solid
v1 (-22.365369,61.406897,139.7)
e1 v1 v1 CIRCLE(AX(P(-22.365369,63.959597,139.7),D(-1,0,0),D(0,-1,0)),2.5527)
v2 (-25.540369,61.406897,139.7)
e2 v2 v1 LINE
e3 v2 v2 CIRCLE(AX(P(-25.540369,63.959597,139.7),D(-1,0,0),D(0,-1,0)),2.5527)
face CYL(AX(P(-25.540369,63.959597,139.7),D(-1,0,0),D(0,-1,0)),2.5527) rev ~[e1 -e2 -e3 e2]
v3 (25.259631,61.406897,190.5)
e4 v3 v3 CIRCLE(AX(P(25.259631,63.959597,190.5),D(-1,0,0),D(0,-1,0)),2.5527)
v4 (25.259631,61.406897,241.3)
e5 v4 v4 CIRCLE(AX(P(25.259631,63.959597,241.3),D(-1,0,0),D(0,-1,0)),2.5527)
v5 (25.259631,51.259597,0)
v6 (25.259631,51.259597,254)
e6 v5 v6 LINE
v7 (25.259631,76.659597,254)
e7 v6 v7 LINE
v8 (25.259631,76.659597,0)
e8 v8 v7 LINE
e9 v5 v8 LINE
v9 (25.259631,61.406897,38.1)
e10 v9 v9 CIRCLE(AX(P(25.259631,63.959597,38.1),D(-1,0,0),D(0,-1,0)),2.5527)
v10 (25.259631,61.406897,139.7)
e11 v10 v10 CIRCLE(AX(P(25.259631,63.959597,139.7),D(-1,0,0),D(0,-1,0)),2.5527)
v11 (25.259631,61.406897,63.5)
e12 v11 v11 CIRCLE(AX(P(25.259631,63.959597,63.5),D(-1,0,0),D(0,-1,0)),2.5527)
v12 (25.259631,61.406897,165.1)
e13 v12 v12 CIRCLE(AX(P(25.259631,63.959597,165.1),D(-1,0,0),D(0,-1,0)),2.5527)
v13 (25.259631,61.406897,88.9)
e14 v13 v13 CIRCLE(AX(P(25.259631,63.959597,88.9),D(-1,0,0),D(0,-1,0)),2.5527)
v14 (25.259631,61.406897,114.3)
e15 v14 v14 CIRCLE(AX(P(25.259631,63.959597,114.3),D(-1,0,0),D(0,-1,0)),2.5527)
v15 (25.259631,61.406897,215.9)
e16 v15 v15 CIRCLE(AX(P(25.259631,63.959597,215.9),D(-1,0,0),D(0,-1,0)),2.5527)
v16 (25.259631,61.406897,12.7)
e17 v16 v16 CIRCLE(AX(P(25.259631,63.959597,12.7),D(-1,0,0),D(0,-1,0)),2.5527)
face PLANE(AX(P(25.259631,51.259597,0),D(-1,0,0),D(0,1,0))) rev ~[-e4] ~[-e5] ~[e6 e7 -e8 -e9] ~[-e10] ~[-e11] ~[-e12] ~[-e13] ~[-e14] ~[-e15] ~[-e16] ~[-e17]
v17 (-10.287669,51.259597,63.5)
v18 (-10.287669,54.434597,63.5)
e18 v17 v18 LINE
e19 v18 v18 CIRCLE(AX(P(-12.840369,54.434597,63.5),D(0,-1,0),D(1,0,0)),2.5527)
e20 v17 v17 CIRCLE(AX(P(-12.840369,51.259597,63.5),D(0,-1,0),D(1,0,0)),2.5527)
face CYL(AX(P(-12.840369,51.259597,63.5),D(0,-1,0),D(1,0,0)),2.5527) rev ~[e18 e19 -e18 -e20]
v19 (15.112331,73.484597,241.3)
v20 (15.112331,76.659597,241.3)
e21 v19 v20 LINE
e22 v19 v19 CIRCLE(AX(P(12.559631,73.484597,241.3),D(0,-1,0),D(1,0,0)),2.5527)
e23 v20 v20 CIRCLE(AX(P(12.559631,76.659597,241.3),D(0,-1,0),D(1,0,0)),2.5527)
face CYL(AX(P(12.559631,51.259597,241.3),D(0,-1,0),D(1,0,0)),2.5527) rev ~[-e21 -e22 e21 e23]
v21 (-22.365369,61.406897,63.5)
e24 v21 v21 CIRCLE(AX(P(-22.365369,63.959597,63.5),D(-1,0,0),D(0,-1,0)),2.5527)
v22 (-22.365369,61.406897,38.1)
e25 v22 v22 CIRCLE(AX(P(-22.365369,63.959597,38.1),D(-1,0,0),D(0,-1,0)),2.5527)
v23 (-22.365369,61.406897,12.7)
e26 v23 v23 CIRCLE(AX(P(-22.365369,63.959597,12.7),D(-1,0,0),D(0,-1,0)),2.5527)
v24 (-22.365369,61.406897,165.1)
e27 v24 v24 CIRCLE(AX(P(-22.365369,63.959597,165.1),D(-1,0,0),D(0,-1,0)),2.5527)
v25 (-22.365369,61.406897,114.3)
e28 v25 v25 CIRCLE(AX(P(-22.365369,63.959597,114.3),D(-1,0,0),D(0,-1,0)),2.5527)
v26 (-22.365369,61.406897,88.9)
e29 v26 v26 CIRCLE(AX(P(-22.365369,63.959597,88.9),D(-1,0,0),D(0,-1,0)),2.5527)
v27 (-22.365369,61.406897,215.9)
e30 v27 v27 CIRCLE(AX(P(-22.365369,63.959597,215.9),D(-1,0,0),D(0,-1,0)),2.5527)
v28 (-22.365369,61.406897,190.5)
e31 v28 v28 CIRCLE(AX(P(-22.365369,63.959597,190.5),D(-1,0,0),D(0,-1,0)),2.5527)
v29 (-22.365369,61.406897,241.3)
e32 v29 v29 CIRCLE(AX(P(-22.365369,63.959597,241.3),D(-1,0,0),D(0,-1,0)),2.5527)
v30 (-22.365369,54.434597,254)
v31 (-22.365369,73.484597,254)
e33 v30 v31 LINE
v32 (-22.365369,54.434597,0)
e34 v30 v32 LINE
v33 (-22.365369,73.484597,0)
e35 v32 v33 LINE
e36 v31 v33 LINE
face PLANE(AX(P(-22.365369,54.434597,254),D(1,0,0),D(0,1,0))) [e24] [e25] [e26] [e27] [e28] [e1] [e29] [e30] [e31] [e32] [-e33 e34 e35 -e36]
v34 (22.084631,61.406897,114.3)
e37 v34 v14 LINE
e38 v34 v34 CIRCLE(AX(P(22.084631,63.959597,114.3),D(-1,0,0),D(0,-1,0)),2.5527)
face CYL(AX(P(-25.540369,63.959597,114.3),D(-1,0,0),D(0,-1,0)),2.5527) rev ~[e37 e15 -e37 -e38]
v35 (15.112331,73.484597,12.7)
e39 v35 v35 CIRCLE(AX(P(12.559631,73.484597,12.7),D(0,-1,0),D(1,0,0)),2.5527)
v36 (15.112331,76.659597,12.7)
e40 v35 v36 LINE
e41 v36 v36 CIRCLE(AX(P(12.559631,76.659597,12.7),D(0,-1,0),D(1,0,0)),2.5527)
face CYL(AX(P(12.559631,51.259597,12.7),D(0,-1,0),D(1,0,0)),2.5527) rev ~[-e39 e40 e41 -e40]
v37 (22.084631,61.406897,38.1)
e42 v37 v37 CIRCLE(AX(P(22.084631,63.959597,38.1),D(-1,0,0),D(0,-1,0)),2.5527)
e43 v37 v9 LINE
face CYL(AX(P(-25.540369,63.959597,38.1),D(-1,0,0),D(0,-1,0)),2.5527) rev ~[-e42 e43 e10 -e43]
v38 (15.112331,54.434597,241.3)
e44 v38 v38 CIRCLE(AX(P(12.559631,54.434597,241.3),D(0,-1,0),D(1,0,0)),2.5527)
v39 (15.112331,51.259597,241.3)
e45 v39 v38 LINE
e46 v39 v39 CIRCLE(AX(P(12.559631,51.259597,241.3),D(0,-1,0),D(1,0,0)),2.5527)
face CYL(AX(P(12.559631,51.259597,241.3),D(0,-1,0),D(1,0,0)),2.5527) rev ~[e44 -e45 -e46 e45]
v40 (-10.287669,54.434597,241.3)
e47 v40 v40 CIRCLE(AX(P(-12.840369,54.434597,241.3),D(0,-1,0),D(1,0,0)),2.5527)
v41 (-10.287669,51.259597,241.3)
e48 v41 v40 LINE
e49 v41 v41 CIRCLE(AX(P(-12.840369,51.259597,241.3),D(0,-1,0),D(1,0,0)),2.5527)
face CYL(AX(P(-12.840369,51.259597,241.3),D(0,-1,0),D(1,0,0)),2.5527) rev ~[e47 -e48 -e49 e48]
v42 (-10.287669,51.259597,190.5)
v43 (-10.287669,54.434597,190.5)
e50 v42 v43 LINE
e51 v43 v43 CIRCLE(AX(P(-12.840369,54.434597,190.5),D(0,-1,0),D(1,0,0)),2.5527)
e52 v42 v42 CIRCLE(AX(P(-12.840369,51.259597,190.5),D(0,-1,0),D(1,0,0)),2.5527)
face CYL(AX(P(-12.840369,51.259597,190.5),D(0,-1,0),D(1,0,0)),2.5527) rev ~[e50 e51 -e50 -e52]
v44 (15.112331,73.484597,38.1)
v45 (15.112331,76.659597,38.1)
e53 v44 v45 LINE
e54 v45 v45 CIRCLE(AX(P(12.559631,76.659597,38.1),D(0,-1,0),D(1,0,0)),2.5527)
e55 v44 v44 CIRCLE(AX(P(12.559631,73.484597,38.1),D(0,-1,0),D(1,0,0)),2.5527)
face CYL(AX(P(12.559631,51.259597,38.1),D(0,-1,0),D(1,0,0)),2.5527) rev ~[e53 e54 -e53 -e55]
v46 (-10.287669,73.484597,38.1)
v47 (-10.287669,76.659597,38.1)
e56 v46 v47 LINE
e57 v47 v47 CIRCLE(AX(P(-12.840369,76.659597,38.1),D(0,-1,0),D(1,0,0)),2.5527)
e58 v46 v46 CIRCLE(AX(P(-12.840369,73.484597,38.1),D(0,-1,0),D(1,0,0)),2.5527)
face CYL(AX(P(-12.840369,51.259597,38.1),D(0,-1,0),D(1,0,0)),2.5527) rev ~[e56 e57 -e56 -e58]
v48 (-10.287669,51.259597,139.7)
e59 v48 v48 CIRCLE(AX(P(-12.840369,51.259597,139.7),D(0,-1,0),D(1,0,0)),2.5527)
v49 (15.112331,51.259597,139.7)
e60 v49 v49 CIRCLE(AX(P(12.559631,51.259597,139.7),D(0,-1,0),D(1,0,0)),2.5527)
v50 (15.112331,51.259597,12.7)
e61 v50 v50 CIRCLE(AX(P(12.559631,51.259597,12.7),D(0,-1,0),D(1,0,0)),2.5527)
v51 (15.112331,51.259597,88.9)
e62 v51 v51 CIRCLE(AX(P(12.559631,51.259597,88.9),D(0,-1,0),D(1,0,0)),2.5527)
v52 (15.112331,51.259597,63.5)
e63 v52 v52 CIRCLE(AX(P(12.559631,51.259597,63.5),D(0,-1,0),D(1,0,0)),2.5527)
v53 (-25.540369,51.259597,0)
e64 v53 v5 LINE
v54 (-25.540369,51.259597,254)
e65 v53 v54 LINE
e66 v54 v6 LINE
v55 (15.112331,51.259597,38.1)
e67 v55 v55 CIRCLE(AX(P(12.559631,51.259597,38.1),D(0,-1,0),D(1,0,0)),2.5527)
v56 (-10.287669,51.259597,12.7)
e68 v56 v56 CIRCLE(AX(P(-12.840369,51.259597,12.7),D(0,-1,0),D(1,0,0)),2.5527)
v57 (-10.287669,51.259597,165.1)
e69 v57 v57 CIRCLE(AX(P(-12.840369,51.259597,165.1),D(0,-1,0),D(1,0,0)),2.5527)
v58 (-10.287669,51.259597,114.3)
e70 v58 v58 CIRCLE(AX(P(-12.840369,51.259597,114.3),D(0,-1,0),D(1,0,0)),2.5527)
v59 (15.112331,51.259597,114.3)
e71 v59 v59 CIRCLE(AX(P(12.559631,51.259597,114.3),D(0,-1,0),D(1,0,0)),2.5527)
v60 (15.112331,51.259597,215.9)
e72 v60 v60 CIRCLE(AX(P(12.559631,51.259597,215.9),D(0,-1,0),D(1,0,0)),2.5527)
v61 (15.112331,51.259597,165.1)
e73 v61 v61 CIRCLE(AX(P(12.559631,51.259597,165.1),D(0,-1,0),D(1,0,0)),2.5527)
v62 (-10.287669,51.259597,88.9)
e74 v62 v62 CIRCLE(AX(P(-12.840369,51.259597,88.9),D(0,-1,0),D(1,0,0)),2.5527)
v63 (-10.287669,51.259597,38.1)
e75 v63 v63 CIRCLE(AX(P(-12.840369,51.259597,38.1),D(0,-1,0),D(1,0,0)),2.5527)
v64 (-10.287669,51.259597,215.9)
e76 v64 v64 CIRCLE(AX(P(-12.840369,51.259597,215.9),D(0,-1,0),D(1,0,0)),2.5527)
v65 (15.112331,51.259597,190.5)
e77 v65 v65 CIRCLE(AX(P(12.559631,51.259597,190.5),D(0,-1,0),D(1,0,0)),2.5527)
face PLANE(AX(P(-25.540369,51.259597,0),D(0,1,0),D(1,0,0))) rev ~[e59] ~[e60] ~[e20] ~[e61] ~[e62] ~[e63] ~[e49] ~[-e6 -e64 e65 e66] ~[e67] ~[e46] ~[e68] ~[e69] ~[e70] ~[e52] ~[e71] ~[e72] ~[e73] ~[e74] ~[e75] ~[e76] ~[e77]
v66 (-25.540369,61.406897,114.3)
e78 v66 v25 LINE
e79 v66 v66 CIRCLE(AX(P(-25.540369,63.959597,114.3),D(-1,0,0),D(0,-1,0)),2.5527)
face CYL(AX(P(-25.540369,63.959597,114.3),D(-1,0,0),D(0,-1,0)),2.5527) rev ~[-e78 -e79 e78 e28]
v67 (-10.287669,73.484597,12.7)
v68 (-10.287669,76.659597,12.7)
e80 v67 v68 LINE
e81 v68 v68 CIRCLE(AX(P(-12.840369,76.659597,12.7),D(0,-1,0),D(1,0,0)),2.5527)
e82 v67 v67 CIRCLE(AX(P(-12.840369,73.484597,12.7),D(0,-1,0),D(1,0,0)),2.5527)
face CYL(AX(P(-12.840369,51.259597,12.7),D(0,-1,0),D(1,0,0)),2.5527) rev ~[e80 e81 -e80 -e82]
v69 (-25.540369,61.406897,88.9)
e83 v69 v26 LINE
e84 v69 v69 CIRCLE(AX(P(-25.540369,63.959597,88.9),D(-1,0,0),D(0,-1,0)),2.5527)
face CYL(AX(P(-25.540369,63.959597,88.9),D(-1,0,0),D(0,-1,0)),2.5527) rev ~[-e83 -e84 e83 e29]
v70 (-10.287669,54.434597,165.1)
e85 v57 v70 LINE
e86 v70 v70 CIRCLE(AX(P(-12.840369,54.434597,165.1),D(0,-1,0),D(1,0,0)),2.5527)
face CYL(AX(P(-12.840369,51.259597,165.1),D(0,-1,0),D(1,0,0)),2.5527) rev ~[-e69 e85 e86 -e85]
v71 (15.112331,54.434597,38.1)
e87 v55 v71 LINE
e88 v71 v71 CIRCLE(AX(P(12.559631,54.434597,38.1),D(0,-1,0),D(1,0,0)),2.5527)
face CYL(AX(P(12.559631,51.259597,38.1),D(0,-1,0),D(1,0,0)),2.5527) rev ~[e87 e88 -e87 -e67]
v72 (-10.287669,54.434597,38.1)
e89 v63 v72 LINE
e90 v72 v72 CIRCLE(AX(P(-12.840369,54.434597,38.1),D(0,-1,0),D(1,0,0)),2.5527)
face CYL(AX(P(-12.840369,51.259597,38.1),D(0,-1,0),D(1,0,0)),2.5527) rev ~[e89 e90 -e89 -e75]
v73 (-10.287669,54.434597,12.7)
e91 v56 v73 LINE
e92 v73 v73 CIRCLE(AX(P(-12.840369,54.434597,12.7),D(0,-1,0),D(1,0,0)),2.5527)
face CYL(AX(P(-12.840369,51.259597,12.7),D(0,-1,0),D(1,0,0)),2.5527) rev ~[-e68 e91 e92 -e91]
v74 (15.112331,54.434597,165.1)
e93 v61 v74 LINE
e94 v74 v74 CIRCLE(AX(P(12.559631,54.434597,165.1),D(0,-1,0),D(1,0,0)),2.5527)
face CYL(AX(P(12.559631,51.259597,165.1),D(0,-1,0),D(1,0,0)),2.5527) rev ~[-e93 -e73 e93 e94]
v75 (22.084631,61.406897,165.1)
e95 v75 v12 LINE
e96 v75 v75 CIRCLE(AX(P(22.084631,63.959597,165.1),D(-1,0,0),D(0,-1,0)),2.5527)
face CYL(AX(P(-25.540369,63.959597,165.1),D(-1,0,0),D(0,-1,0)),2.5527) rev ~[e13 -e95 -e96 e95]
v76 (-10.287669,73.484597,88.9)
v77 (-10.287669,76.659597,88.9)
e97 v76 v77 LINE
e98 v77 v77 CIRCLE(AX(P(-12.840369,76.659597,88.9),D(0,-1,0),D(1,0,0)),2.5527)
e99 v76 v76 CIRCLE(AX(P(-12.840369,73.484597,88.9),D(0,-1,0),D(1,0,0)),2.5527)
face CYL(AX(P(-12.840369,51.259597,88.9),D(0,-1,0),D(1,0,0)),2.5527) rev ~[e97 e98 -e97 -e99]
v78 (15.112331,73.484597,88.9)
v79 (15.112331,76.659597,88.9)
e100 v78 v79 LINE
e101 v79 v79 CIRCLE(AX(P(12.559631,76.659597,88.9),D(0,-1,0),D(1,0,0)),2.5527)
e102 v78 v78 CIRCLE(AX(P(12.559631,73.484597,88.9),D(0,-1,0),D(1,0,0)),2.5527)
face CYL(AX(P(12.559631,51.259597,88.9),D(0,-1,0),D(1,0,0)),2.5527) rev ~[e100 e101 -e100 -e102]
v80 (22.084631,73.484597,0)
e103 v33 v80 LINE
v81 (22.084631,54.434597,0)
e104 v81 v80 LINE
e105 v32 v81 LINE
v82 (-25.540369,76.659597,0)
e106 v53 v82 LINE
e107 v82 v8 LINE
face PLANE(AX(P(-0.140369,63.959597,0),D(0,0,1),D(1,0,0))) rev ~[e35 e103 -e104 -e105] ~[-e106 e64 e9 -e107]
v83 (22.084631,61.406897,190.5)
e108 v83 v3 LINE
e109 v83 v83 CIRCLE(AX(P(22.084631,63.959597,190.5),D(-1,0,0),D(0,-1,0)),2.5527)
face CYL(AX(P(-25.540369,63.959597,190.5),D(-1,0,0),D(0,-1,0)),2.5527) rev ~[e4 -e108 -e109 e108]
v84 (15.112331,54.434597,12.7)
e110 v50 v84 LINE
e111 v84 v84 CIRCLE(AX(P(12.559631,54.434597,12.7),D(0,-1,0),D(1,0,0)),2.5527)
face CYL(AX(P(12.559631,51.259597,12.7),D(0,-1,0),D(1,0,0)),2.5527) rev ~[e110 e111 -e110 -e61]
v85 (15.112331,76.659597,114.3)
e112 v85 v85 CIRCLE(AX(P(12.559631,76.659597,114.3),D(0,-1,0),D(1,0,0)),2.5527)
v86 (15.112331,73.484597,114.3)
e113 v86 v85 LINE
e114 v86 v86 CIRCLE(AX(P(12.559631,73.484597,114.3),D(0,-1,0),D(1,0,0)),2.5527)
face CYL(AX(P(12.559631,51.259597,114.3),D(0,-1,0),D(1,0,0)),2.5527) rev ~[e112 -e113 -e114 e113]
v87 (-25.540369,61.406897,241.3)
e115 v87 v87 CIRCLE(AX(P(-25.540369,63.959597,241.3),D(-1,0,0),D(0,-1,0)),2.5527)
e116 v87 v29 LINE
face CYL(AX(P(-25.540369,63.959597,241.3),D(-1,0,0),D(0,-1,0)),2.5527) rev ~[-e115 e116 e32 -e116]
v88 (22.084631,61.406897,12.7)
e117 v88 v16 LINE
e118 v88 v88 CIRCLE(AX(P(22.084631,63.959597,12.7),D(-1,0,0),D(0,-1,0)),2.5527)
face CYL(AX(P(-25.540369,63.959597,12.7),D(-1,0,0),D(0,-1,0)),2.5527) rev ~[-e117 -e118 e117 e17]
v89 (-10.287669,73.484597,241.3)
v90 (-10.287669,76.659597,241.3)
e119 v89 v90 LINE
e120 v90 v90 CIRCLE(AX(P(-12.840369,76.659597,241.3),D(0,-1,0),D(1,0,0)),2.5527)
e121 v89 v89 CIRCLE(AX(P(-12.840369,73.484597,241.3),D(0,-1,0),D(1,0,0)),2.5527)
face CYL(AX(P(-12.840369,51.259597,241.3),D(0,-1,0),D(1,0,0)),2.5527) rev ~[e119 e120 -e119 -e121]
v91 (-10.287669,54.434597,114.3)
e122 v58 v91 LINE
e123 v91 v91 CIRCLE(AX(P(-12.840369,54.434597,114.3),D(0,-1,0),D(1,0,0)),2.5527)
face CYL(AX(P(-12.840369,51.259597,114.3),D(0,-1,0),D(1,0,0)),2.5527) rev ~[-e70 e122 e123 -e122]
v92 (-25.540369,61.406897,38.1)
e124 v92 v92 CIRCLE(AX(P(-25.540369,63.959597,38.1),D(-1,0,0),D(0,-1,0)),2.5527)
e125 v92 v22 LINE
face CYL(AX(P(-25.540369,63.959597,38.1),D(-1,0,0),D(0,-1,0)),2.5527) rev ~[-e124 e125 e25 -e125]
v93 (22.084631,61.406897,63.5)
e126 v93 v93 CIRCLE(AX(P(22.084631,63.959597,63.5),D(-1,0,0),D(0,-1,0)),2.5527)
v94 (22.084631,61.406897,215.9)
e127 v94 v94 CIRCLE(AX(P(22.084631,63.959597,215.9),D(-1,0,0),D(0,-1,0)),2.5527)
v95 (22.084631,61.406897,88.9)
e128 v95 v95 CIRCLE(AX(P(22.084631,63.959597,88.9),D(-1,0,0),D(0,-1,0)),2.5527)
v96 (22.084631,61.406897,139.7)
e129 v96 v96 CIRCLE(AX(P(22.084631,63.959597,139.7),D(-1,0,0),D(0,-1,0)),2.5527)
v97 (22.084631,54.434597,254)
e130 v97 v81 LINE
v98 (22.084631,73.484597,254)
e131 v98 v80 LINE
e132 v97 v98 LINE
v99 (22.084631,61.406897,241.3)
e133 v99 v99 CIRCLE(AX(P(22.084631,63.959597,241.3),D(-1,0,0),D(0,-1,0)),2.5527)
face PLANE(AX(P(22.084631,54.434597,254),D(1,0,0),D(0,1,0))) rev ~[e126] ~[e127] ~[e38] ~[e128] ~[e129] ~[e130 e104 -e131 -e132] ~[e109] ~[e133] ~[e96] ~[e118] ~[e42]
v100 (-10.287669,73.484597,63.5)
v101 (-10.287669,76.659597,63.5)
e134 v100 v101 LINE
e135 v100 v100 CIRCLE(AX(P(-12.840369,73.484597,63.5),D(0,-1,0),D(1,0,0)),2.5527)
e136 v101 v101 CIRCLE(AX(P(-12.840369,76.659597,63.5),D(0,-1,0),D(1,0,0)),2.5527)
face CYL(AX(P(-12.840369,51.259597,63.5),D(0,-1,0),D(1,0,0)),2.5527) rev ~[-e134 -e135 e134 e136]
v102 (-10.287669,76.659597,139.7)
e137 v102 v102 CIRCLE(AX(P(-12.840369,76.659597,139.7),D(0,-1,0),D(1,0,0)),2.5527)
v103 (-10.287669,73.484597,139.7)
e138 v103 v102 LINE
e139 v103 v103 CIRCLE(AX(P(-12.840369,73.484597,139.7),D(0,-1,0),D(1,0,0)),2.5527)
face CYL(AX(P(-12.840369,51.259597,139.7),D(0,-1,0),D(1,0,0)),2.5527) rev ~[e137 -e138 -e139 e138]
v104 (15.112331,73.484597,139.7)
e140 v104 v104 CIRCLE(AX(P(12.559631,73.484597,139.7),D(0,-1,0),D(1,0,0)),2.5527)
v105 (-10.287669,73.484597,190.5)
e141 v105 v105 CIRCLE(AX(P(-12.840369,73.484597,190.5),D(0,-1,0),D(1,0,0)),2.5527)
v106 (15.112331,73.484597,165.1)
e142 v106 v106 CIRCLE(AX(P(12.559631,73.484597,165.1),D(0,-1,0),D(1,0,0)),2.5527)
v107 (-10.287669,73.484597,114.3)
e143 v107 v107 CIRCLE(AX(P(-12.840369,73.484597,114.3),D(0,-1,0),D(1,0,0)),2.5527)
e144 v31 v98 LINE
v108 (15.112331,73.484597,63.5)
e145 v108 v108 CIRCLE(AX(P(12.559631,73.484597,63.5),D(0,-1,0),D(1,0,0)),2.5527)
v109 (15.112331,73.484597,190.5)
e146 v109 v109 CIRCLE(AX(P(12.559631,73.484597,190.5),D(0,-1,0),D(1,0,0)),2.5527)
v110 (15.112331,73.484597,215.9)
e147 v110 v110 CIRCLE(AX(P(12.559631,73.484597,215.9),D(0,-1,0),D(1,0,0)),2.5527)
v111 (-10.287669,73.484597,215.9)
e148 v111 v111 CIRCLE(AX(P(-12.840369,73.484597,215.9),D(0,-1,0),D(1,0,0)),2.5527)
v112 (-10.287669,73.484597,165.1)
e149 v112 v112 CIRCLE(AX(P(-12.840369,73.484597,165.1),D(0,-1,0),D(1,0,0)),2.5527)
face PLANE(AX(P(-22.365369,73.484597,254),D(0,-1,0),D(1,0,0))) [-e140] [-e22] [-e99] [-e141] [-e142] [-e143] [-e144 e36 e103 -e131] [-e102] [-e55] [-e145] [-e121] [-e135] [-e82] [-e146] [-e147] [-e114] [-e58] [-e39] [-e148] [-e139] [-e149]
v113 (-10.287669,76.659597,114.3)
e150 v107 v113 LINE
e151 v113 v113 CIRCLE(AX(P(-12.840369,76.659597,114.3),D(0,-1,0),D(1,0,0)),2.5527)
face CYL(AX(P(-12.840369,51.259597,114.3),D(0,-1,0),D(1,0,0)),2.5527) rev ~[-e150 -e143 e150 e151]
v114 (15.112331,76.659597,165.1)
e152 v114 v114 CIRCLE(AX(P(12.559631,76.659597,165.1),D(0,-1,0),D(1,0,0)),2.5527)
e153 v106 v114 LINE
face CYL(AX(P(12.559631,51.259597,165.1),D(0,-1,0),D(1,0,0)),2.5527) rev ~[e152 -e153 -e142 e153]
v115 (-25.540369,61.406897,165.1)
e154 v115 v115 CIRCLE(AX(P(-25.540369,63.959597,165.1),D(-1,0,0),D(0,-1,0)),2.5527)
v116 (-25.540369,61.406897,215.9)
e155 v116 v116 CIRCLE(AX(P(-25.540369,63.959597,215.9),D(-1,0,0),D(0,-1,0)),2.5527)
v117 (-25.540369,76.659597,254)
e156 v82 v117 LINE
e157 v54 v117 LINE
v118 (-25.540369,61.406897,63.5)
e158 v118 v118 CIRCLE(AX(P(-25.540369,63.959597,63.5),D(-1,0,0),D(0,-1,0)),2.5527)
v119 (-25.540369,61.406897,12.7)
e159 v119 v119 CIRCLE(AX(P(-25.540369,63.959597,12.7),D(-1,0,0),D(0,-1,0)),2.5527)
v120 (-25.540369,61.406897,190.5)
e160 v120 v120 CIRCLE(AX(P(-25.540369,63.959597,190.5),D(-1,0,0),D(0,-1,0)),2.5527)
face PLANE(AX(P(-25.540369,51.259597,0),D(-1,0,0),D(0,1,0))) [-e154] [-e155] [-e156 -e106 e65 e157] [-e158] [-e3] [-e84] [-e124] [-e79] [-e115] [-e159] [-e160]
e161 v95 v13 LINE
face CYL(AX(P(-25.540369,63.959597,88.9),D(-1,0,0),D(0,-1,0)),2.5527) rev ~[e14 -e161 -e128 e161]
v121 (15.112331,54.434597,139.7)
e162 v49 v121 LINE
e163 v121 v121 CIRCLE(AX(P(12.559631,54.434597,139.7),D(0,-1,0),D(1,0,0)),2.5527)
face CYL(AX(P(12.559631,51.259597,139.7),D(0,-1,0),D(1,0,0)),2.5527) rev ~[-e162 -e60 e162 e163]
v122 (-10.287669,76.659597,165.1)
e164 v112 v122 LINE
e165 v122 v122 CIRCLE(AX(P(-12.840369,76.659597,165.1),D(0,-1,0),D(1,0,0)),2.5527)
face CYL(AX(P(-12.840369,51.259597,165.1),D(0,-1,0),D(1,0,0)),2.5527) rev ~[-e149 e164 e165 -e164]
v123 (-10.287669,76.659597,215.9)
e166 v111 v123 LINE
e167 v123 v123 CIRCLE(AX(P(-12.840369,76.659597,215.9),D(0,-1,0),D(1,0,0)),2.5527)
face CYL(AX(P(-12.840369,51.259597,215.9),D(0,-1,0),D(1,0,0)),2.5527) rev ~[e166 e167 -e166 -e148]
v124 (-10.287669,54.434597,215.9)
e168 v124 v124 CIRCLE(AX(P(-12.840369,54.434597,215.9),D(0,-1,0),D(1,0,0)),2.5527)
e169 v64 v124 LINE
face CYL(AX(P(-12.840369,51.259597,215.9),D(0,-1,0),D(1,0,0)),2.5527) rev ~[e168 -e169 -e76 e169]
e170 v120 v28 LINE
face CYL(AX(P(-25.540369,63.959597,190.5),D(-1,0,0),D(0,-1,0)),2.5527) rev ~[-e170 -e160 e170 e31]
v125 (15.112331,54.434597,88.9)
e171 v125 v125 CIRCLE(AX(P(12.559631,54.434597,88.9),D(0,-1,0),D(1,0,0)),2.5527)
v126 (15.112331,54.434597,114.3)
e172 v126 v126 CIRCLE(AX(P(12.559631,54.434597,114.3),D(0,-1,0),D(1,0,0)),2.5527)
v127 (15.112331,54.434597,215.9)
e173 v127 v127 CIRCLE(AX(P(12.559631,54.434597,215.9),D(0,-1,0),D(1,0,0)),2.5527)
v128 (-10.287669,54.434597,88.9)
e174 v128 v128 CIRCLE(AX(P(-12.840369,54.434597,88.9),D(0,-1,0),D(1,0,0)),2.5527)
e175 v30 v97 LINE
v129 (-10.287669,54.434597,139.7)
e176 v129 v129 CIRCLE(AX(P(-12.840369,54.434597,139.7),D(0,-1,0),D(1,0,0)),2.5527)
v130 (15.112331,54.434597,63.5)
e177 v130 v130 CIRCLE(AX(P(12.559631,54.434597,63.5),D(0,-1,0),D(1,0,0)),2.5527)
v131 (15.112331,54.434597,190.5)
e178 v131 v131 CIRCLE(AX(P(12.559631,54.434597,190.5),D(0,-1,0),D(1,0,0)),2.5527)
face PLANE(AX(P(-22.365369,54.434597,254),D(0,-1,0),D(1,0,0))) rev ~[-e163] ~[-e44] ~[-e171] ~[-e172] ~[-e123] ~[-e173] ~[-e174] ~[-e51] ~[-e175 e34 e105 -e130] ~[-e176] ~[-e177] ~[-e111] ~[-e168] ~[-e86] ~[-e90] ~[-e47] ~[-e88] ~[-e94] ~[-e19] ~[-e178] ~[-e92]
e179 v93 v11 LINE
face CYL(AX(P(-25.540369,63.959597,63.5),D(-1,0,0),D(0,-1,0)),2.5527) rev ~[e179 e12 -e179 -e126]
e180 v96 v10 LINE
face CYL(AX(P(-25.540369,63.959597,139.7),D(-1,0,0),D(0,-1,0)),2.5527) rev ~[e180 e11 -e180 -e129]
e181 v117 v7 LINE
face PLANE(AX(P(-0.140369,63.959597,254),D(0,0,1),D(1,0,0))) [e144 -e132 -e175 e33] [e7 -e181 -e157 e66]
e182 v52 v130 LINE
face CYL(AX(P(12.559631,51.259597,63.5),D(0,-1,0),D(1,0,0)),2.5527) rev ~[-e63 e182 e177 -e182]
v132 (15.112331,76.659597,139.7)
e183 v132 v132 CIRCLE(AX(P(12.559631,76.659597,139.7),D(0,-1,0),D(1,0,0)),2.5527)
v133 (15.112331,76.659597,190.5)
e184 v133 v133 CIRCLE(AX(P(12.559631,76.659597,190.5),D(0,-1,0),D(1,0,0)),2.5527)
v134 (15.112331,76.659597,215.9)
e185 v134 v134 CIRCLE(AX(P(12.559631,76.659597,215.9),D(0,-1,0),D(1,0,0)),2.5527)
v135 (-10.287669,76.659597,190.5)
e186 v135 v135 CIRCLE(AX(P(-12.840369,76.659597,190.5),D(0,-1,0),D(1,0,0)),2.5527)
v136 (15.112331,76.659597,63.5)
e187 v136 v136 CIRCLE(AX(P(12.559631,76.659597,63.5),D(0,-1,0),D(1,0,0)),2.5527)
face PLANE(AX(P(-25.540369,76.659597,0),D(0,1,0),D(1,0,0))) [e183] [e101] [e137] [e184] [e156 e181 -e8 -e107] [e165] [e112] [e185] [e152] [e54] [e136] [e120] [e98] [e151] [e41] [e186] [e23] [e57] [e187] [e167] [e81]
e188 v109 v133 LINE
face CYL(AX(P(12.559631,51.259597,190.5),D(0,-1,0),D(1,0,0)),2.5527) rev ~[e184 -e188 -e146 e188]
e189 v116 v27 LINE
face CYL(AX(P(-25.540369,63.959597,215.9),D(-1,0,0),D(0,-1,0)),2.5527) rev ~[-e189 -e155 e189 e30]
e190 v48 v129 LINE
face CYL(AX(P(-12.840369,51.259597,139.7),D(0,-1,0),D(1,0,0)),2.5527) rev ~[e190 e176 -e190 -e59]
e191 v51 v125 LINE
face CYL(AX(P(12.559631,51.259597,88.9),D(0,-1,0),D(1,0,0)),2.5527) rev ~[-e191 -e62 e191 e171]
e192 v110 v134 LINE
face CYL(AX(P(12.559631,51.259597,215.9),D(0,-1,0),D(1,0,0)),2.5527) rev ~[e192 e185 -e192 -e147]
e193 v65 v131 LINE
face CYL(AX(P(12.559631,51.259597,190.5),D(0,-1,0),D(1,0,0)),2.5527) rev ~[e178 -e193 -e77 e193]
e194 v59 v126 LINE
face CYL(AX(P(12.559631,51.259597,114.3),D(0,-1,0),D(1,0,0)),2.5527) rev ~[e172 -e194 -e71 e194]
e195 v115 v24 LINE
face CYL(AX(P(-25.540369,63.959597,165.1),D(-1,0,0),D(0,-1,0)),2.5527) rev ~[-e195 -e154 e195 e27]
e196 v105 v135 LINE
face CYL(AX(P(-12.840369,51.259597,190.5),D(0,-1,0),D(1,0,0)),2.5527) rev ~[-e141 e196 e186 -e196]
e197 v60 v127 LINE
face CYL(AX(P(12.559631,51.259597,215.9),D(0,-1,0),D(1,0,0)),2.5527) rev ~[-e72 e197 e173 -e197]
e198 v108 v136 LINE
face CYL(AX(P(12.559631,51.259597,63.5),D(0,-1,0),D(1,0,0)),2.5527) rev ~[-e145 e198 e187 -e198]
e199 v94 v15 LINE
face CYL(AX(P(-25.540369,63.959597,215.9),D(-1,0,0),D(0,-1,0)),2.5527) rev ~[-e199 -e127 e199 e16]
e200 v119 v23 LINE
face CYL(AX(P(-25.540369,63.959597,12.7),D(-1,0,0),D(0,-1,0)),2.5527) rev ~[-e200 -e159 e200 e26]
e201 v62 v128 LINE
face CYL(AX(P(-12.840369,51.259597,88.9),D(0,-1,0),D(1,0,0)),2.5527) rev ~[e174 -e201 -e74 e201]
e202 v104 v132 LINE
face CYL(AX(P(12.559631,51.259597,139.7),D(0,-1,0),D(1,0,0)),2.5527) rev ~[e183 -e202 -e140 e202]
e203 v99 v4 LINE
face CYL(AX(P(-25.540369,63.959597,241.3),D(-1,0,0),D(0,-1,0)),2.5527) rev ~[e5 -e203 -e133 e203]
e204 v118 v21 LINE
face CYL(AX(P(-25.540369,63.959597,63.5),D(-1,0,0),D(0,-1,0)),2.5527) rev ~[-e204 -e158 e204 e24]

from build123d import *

# Parameters (mm, degrees)
F0_W     = 50.8
F0_H     = 25.4
F1_DEPTH = 254
F2_R     = 2.5527
F3_DEPTH = 50.8
F4_R     = 2.5527
F5_DEPTH = 50.8
F6_W     = 44.45
F6_H     = 19.05
F7_DEPTH = 254


with BuildPart() as f1:
    # F0 (on Top) → F1 (new body)
    with BuildSketch(Plane.XY):
        with Locations((-0.140369, 63.959597)):
            Rectangle(F0_W, F0_H)
    extrude(amount=F1_DEPTH)

    # F2 (on face) → F3 (cut)
    with BuildSketch(Plane.XZ.offset(-51.259597)):
        with Locations((-12.840369, 241.3)):
            Circle(F2_R)
        with Locations((-12.840369, 215.9)):
            Circle(F2_R)
        with Locations((-12.840369, 190.5)):
            Circle(F2_R)
        with Locations((-12.840369, 165.1)):
            Circle(F2_R)
        with Locations((-12.840369, 139.7)):
            Circle(F2_R)
        with Locations((-12.840369, 114.3)):
            Circle(F2_R)
        with Locations((-12.840369, 88.9)):
            Circle(F2_R)
        with Locations((-12.840369, 63.5)):
            Circle(F2_R)
        with Locations((-12.840369, 38.1)):
            Circle(F2_R)
        with Locations((-12.840369, 12.7)):
            Circle(F2_R)
        with Locations((12.559631, 241.3)):
            Circle(F2_R)
        with Locations((12.559631, 215.9)):
            Circle(F2_R)
        with Locations((12.559631, 190.5)):
            Circle(F2_R)
        with Locations((12.559631, 165.1)):
            Circle(F2_R)
        with Locations((12.559631, 139.7)):
            Circle(F2_R)
        with Locations((12.559631, 114.3)):
            Circle(F2_R)
        with Locations((12.559631, 88.9)):
            Circle(F2_R)
        with Locations((12.559631, 63.5)):
            Circle(F2_R)
        with Locations((12.559631, 38.1)):
            Circle(F2_R)
        with Locations((12.559631, 12.7)):
            Circle(F2_R)
    extrude(amount=-F3_DEPTH, mode=Mode.SUBTRACT)

    # F4 (on face) → F5 (cut)
    with BuildSketch(Plane(origin=(-25.540369, 0, 0), x_dir=(0, -1, 0), z_dir=(-1, 0, 0))):
        with Locations((-63.959597, 241.3)):
            Circle(F4_R)
        with Locations((-63.959597, 215.9)):
            Circle(F4_R)
        with Locations((-63.959597, 190.5)):
            Circle(F4_R)
        with Locations((-63.959597, 165.1)):
            Circle(F4_R)
        with Locations((-63.959597, 139.7)):
            Circle(F4_R)
        with Locations((-63.959597, 114.3)):
            Circle(F4_R)
        with Locations((-63.959597, 88.9)):
            Circle(F4_R)
        with Locations((-63.959597, 63.5)):
            Circle(F4_R)
        with Locations((-63.959597, 38.1)):
            Circle(F4_R)
        with Locations((-63.959597, 12.7)):
            Circle(F4_R)
    extrude(amount=-F5_DEPTH, mode=Mode.SUBTRACT)

    # F6 (on face) → F7 (cut)
    with BuildSketch(Plane.XY.offset(254)):
        with Locations((-0.140369, 63.959597)):
            Rectangle(F6_W, F6_H)
    extrude(amount=-F7_DEPTH, mode=Mode.SUBTRACT)


solid = f1.part
